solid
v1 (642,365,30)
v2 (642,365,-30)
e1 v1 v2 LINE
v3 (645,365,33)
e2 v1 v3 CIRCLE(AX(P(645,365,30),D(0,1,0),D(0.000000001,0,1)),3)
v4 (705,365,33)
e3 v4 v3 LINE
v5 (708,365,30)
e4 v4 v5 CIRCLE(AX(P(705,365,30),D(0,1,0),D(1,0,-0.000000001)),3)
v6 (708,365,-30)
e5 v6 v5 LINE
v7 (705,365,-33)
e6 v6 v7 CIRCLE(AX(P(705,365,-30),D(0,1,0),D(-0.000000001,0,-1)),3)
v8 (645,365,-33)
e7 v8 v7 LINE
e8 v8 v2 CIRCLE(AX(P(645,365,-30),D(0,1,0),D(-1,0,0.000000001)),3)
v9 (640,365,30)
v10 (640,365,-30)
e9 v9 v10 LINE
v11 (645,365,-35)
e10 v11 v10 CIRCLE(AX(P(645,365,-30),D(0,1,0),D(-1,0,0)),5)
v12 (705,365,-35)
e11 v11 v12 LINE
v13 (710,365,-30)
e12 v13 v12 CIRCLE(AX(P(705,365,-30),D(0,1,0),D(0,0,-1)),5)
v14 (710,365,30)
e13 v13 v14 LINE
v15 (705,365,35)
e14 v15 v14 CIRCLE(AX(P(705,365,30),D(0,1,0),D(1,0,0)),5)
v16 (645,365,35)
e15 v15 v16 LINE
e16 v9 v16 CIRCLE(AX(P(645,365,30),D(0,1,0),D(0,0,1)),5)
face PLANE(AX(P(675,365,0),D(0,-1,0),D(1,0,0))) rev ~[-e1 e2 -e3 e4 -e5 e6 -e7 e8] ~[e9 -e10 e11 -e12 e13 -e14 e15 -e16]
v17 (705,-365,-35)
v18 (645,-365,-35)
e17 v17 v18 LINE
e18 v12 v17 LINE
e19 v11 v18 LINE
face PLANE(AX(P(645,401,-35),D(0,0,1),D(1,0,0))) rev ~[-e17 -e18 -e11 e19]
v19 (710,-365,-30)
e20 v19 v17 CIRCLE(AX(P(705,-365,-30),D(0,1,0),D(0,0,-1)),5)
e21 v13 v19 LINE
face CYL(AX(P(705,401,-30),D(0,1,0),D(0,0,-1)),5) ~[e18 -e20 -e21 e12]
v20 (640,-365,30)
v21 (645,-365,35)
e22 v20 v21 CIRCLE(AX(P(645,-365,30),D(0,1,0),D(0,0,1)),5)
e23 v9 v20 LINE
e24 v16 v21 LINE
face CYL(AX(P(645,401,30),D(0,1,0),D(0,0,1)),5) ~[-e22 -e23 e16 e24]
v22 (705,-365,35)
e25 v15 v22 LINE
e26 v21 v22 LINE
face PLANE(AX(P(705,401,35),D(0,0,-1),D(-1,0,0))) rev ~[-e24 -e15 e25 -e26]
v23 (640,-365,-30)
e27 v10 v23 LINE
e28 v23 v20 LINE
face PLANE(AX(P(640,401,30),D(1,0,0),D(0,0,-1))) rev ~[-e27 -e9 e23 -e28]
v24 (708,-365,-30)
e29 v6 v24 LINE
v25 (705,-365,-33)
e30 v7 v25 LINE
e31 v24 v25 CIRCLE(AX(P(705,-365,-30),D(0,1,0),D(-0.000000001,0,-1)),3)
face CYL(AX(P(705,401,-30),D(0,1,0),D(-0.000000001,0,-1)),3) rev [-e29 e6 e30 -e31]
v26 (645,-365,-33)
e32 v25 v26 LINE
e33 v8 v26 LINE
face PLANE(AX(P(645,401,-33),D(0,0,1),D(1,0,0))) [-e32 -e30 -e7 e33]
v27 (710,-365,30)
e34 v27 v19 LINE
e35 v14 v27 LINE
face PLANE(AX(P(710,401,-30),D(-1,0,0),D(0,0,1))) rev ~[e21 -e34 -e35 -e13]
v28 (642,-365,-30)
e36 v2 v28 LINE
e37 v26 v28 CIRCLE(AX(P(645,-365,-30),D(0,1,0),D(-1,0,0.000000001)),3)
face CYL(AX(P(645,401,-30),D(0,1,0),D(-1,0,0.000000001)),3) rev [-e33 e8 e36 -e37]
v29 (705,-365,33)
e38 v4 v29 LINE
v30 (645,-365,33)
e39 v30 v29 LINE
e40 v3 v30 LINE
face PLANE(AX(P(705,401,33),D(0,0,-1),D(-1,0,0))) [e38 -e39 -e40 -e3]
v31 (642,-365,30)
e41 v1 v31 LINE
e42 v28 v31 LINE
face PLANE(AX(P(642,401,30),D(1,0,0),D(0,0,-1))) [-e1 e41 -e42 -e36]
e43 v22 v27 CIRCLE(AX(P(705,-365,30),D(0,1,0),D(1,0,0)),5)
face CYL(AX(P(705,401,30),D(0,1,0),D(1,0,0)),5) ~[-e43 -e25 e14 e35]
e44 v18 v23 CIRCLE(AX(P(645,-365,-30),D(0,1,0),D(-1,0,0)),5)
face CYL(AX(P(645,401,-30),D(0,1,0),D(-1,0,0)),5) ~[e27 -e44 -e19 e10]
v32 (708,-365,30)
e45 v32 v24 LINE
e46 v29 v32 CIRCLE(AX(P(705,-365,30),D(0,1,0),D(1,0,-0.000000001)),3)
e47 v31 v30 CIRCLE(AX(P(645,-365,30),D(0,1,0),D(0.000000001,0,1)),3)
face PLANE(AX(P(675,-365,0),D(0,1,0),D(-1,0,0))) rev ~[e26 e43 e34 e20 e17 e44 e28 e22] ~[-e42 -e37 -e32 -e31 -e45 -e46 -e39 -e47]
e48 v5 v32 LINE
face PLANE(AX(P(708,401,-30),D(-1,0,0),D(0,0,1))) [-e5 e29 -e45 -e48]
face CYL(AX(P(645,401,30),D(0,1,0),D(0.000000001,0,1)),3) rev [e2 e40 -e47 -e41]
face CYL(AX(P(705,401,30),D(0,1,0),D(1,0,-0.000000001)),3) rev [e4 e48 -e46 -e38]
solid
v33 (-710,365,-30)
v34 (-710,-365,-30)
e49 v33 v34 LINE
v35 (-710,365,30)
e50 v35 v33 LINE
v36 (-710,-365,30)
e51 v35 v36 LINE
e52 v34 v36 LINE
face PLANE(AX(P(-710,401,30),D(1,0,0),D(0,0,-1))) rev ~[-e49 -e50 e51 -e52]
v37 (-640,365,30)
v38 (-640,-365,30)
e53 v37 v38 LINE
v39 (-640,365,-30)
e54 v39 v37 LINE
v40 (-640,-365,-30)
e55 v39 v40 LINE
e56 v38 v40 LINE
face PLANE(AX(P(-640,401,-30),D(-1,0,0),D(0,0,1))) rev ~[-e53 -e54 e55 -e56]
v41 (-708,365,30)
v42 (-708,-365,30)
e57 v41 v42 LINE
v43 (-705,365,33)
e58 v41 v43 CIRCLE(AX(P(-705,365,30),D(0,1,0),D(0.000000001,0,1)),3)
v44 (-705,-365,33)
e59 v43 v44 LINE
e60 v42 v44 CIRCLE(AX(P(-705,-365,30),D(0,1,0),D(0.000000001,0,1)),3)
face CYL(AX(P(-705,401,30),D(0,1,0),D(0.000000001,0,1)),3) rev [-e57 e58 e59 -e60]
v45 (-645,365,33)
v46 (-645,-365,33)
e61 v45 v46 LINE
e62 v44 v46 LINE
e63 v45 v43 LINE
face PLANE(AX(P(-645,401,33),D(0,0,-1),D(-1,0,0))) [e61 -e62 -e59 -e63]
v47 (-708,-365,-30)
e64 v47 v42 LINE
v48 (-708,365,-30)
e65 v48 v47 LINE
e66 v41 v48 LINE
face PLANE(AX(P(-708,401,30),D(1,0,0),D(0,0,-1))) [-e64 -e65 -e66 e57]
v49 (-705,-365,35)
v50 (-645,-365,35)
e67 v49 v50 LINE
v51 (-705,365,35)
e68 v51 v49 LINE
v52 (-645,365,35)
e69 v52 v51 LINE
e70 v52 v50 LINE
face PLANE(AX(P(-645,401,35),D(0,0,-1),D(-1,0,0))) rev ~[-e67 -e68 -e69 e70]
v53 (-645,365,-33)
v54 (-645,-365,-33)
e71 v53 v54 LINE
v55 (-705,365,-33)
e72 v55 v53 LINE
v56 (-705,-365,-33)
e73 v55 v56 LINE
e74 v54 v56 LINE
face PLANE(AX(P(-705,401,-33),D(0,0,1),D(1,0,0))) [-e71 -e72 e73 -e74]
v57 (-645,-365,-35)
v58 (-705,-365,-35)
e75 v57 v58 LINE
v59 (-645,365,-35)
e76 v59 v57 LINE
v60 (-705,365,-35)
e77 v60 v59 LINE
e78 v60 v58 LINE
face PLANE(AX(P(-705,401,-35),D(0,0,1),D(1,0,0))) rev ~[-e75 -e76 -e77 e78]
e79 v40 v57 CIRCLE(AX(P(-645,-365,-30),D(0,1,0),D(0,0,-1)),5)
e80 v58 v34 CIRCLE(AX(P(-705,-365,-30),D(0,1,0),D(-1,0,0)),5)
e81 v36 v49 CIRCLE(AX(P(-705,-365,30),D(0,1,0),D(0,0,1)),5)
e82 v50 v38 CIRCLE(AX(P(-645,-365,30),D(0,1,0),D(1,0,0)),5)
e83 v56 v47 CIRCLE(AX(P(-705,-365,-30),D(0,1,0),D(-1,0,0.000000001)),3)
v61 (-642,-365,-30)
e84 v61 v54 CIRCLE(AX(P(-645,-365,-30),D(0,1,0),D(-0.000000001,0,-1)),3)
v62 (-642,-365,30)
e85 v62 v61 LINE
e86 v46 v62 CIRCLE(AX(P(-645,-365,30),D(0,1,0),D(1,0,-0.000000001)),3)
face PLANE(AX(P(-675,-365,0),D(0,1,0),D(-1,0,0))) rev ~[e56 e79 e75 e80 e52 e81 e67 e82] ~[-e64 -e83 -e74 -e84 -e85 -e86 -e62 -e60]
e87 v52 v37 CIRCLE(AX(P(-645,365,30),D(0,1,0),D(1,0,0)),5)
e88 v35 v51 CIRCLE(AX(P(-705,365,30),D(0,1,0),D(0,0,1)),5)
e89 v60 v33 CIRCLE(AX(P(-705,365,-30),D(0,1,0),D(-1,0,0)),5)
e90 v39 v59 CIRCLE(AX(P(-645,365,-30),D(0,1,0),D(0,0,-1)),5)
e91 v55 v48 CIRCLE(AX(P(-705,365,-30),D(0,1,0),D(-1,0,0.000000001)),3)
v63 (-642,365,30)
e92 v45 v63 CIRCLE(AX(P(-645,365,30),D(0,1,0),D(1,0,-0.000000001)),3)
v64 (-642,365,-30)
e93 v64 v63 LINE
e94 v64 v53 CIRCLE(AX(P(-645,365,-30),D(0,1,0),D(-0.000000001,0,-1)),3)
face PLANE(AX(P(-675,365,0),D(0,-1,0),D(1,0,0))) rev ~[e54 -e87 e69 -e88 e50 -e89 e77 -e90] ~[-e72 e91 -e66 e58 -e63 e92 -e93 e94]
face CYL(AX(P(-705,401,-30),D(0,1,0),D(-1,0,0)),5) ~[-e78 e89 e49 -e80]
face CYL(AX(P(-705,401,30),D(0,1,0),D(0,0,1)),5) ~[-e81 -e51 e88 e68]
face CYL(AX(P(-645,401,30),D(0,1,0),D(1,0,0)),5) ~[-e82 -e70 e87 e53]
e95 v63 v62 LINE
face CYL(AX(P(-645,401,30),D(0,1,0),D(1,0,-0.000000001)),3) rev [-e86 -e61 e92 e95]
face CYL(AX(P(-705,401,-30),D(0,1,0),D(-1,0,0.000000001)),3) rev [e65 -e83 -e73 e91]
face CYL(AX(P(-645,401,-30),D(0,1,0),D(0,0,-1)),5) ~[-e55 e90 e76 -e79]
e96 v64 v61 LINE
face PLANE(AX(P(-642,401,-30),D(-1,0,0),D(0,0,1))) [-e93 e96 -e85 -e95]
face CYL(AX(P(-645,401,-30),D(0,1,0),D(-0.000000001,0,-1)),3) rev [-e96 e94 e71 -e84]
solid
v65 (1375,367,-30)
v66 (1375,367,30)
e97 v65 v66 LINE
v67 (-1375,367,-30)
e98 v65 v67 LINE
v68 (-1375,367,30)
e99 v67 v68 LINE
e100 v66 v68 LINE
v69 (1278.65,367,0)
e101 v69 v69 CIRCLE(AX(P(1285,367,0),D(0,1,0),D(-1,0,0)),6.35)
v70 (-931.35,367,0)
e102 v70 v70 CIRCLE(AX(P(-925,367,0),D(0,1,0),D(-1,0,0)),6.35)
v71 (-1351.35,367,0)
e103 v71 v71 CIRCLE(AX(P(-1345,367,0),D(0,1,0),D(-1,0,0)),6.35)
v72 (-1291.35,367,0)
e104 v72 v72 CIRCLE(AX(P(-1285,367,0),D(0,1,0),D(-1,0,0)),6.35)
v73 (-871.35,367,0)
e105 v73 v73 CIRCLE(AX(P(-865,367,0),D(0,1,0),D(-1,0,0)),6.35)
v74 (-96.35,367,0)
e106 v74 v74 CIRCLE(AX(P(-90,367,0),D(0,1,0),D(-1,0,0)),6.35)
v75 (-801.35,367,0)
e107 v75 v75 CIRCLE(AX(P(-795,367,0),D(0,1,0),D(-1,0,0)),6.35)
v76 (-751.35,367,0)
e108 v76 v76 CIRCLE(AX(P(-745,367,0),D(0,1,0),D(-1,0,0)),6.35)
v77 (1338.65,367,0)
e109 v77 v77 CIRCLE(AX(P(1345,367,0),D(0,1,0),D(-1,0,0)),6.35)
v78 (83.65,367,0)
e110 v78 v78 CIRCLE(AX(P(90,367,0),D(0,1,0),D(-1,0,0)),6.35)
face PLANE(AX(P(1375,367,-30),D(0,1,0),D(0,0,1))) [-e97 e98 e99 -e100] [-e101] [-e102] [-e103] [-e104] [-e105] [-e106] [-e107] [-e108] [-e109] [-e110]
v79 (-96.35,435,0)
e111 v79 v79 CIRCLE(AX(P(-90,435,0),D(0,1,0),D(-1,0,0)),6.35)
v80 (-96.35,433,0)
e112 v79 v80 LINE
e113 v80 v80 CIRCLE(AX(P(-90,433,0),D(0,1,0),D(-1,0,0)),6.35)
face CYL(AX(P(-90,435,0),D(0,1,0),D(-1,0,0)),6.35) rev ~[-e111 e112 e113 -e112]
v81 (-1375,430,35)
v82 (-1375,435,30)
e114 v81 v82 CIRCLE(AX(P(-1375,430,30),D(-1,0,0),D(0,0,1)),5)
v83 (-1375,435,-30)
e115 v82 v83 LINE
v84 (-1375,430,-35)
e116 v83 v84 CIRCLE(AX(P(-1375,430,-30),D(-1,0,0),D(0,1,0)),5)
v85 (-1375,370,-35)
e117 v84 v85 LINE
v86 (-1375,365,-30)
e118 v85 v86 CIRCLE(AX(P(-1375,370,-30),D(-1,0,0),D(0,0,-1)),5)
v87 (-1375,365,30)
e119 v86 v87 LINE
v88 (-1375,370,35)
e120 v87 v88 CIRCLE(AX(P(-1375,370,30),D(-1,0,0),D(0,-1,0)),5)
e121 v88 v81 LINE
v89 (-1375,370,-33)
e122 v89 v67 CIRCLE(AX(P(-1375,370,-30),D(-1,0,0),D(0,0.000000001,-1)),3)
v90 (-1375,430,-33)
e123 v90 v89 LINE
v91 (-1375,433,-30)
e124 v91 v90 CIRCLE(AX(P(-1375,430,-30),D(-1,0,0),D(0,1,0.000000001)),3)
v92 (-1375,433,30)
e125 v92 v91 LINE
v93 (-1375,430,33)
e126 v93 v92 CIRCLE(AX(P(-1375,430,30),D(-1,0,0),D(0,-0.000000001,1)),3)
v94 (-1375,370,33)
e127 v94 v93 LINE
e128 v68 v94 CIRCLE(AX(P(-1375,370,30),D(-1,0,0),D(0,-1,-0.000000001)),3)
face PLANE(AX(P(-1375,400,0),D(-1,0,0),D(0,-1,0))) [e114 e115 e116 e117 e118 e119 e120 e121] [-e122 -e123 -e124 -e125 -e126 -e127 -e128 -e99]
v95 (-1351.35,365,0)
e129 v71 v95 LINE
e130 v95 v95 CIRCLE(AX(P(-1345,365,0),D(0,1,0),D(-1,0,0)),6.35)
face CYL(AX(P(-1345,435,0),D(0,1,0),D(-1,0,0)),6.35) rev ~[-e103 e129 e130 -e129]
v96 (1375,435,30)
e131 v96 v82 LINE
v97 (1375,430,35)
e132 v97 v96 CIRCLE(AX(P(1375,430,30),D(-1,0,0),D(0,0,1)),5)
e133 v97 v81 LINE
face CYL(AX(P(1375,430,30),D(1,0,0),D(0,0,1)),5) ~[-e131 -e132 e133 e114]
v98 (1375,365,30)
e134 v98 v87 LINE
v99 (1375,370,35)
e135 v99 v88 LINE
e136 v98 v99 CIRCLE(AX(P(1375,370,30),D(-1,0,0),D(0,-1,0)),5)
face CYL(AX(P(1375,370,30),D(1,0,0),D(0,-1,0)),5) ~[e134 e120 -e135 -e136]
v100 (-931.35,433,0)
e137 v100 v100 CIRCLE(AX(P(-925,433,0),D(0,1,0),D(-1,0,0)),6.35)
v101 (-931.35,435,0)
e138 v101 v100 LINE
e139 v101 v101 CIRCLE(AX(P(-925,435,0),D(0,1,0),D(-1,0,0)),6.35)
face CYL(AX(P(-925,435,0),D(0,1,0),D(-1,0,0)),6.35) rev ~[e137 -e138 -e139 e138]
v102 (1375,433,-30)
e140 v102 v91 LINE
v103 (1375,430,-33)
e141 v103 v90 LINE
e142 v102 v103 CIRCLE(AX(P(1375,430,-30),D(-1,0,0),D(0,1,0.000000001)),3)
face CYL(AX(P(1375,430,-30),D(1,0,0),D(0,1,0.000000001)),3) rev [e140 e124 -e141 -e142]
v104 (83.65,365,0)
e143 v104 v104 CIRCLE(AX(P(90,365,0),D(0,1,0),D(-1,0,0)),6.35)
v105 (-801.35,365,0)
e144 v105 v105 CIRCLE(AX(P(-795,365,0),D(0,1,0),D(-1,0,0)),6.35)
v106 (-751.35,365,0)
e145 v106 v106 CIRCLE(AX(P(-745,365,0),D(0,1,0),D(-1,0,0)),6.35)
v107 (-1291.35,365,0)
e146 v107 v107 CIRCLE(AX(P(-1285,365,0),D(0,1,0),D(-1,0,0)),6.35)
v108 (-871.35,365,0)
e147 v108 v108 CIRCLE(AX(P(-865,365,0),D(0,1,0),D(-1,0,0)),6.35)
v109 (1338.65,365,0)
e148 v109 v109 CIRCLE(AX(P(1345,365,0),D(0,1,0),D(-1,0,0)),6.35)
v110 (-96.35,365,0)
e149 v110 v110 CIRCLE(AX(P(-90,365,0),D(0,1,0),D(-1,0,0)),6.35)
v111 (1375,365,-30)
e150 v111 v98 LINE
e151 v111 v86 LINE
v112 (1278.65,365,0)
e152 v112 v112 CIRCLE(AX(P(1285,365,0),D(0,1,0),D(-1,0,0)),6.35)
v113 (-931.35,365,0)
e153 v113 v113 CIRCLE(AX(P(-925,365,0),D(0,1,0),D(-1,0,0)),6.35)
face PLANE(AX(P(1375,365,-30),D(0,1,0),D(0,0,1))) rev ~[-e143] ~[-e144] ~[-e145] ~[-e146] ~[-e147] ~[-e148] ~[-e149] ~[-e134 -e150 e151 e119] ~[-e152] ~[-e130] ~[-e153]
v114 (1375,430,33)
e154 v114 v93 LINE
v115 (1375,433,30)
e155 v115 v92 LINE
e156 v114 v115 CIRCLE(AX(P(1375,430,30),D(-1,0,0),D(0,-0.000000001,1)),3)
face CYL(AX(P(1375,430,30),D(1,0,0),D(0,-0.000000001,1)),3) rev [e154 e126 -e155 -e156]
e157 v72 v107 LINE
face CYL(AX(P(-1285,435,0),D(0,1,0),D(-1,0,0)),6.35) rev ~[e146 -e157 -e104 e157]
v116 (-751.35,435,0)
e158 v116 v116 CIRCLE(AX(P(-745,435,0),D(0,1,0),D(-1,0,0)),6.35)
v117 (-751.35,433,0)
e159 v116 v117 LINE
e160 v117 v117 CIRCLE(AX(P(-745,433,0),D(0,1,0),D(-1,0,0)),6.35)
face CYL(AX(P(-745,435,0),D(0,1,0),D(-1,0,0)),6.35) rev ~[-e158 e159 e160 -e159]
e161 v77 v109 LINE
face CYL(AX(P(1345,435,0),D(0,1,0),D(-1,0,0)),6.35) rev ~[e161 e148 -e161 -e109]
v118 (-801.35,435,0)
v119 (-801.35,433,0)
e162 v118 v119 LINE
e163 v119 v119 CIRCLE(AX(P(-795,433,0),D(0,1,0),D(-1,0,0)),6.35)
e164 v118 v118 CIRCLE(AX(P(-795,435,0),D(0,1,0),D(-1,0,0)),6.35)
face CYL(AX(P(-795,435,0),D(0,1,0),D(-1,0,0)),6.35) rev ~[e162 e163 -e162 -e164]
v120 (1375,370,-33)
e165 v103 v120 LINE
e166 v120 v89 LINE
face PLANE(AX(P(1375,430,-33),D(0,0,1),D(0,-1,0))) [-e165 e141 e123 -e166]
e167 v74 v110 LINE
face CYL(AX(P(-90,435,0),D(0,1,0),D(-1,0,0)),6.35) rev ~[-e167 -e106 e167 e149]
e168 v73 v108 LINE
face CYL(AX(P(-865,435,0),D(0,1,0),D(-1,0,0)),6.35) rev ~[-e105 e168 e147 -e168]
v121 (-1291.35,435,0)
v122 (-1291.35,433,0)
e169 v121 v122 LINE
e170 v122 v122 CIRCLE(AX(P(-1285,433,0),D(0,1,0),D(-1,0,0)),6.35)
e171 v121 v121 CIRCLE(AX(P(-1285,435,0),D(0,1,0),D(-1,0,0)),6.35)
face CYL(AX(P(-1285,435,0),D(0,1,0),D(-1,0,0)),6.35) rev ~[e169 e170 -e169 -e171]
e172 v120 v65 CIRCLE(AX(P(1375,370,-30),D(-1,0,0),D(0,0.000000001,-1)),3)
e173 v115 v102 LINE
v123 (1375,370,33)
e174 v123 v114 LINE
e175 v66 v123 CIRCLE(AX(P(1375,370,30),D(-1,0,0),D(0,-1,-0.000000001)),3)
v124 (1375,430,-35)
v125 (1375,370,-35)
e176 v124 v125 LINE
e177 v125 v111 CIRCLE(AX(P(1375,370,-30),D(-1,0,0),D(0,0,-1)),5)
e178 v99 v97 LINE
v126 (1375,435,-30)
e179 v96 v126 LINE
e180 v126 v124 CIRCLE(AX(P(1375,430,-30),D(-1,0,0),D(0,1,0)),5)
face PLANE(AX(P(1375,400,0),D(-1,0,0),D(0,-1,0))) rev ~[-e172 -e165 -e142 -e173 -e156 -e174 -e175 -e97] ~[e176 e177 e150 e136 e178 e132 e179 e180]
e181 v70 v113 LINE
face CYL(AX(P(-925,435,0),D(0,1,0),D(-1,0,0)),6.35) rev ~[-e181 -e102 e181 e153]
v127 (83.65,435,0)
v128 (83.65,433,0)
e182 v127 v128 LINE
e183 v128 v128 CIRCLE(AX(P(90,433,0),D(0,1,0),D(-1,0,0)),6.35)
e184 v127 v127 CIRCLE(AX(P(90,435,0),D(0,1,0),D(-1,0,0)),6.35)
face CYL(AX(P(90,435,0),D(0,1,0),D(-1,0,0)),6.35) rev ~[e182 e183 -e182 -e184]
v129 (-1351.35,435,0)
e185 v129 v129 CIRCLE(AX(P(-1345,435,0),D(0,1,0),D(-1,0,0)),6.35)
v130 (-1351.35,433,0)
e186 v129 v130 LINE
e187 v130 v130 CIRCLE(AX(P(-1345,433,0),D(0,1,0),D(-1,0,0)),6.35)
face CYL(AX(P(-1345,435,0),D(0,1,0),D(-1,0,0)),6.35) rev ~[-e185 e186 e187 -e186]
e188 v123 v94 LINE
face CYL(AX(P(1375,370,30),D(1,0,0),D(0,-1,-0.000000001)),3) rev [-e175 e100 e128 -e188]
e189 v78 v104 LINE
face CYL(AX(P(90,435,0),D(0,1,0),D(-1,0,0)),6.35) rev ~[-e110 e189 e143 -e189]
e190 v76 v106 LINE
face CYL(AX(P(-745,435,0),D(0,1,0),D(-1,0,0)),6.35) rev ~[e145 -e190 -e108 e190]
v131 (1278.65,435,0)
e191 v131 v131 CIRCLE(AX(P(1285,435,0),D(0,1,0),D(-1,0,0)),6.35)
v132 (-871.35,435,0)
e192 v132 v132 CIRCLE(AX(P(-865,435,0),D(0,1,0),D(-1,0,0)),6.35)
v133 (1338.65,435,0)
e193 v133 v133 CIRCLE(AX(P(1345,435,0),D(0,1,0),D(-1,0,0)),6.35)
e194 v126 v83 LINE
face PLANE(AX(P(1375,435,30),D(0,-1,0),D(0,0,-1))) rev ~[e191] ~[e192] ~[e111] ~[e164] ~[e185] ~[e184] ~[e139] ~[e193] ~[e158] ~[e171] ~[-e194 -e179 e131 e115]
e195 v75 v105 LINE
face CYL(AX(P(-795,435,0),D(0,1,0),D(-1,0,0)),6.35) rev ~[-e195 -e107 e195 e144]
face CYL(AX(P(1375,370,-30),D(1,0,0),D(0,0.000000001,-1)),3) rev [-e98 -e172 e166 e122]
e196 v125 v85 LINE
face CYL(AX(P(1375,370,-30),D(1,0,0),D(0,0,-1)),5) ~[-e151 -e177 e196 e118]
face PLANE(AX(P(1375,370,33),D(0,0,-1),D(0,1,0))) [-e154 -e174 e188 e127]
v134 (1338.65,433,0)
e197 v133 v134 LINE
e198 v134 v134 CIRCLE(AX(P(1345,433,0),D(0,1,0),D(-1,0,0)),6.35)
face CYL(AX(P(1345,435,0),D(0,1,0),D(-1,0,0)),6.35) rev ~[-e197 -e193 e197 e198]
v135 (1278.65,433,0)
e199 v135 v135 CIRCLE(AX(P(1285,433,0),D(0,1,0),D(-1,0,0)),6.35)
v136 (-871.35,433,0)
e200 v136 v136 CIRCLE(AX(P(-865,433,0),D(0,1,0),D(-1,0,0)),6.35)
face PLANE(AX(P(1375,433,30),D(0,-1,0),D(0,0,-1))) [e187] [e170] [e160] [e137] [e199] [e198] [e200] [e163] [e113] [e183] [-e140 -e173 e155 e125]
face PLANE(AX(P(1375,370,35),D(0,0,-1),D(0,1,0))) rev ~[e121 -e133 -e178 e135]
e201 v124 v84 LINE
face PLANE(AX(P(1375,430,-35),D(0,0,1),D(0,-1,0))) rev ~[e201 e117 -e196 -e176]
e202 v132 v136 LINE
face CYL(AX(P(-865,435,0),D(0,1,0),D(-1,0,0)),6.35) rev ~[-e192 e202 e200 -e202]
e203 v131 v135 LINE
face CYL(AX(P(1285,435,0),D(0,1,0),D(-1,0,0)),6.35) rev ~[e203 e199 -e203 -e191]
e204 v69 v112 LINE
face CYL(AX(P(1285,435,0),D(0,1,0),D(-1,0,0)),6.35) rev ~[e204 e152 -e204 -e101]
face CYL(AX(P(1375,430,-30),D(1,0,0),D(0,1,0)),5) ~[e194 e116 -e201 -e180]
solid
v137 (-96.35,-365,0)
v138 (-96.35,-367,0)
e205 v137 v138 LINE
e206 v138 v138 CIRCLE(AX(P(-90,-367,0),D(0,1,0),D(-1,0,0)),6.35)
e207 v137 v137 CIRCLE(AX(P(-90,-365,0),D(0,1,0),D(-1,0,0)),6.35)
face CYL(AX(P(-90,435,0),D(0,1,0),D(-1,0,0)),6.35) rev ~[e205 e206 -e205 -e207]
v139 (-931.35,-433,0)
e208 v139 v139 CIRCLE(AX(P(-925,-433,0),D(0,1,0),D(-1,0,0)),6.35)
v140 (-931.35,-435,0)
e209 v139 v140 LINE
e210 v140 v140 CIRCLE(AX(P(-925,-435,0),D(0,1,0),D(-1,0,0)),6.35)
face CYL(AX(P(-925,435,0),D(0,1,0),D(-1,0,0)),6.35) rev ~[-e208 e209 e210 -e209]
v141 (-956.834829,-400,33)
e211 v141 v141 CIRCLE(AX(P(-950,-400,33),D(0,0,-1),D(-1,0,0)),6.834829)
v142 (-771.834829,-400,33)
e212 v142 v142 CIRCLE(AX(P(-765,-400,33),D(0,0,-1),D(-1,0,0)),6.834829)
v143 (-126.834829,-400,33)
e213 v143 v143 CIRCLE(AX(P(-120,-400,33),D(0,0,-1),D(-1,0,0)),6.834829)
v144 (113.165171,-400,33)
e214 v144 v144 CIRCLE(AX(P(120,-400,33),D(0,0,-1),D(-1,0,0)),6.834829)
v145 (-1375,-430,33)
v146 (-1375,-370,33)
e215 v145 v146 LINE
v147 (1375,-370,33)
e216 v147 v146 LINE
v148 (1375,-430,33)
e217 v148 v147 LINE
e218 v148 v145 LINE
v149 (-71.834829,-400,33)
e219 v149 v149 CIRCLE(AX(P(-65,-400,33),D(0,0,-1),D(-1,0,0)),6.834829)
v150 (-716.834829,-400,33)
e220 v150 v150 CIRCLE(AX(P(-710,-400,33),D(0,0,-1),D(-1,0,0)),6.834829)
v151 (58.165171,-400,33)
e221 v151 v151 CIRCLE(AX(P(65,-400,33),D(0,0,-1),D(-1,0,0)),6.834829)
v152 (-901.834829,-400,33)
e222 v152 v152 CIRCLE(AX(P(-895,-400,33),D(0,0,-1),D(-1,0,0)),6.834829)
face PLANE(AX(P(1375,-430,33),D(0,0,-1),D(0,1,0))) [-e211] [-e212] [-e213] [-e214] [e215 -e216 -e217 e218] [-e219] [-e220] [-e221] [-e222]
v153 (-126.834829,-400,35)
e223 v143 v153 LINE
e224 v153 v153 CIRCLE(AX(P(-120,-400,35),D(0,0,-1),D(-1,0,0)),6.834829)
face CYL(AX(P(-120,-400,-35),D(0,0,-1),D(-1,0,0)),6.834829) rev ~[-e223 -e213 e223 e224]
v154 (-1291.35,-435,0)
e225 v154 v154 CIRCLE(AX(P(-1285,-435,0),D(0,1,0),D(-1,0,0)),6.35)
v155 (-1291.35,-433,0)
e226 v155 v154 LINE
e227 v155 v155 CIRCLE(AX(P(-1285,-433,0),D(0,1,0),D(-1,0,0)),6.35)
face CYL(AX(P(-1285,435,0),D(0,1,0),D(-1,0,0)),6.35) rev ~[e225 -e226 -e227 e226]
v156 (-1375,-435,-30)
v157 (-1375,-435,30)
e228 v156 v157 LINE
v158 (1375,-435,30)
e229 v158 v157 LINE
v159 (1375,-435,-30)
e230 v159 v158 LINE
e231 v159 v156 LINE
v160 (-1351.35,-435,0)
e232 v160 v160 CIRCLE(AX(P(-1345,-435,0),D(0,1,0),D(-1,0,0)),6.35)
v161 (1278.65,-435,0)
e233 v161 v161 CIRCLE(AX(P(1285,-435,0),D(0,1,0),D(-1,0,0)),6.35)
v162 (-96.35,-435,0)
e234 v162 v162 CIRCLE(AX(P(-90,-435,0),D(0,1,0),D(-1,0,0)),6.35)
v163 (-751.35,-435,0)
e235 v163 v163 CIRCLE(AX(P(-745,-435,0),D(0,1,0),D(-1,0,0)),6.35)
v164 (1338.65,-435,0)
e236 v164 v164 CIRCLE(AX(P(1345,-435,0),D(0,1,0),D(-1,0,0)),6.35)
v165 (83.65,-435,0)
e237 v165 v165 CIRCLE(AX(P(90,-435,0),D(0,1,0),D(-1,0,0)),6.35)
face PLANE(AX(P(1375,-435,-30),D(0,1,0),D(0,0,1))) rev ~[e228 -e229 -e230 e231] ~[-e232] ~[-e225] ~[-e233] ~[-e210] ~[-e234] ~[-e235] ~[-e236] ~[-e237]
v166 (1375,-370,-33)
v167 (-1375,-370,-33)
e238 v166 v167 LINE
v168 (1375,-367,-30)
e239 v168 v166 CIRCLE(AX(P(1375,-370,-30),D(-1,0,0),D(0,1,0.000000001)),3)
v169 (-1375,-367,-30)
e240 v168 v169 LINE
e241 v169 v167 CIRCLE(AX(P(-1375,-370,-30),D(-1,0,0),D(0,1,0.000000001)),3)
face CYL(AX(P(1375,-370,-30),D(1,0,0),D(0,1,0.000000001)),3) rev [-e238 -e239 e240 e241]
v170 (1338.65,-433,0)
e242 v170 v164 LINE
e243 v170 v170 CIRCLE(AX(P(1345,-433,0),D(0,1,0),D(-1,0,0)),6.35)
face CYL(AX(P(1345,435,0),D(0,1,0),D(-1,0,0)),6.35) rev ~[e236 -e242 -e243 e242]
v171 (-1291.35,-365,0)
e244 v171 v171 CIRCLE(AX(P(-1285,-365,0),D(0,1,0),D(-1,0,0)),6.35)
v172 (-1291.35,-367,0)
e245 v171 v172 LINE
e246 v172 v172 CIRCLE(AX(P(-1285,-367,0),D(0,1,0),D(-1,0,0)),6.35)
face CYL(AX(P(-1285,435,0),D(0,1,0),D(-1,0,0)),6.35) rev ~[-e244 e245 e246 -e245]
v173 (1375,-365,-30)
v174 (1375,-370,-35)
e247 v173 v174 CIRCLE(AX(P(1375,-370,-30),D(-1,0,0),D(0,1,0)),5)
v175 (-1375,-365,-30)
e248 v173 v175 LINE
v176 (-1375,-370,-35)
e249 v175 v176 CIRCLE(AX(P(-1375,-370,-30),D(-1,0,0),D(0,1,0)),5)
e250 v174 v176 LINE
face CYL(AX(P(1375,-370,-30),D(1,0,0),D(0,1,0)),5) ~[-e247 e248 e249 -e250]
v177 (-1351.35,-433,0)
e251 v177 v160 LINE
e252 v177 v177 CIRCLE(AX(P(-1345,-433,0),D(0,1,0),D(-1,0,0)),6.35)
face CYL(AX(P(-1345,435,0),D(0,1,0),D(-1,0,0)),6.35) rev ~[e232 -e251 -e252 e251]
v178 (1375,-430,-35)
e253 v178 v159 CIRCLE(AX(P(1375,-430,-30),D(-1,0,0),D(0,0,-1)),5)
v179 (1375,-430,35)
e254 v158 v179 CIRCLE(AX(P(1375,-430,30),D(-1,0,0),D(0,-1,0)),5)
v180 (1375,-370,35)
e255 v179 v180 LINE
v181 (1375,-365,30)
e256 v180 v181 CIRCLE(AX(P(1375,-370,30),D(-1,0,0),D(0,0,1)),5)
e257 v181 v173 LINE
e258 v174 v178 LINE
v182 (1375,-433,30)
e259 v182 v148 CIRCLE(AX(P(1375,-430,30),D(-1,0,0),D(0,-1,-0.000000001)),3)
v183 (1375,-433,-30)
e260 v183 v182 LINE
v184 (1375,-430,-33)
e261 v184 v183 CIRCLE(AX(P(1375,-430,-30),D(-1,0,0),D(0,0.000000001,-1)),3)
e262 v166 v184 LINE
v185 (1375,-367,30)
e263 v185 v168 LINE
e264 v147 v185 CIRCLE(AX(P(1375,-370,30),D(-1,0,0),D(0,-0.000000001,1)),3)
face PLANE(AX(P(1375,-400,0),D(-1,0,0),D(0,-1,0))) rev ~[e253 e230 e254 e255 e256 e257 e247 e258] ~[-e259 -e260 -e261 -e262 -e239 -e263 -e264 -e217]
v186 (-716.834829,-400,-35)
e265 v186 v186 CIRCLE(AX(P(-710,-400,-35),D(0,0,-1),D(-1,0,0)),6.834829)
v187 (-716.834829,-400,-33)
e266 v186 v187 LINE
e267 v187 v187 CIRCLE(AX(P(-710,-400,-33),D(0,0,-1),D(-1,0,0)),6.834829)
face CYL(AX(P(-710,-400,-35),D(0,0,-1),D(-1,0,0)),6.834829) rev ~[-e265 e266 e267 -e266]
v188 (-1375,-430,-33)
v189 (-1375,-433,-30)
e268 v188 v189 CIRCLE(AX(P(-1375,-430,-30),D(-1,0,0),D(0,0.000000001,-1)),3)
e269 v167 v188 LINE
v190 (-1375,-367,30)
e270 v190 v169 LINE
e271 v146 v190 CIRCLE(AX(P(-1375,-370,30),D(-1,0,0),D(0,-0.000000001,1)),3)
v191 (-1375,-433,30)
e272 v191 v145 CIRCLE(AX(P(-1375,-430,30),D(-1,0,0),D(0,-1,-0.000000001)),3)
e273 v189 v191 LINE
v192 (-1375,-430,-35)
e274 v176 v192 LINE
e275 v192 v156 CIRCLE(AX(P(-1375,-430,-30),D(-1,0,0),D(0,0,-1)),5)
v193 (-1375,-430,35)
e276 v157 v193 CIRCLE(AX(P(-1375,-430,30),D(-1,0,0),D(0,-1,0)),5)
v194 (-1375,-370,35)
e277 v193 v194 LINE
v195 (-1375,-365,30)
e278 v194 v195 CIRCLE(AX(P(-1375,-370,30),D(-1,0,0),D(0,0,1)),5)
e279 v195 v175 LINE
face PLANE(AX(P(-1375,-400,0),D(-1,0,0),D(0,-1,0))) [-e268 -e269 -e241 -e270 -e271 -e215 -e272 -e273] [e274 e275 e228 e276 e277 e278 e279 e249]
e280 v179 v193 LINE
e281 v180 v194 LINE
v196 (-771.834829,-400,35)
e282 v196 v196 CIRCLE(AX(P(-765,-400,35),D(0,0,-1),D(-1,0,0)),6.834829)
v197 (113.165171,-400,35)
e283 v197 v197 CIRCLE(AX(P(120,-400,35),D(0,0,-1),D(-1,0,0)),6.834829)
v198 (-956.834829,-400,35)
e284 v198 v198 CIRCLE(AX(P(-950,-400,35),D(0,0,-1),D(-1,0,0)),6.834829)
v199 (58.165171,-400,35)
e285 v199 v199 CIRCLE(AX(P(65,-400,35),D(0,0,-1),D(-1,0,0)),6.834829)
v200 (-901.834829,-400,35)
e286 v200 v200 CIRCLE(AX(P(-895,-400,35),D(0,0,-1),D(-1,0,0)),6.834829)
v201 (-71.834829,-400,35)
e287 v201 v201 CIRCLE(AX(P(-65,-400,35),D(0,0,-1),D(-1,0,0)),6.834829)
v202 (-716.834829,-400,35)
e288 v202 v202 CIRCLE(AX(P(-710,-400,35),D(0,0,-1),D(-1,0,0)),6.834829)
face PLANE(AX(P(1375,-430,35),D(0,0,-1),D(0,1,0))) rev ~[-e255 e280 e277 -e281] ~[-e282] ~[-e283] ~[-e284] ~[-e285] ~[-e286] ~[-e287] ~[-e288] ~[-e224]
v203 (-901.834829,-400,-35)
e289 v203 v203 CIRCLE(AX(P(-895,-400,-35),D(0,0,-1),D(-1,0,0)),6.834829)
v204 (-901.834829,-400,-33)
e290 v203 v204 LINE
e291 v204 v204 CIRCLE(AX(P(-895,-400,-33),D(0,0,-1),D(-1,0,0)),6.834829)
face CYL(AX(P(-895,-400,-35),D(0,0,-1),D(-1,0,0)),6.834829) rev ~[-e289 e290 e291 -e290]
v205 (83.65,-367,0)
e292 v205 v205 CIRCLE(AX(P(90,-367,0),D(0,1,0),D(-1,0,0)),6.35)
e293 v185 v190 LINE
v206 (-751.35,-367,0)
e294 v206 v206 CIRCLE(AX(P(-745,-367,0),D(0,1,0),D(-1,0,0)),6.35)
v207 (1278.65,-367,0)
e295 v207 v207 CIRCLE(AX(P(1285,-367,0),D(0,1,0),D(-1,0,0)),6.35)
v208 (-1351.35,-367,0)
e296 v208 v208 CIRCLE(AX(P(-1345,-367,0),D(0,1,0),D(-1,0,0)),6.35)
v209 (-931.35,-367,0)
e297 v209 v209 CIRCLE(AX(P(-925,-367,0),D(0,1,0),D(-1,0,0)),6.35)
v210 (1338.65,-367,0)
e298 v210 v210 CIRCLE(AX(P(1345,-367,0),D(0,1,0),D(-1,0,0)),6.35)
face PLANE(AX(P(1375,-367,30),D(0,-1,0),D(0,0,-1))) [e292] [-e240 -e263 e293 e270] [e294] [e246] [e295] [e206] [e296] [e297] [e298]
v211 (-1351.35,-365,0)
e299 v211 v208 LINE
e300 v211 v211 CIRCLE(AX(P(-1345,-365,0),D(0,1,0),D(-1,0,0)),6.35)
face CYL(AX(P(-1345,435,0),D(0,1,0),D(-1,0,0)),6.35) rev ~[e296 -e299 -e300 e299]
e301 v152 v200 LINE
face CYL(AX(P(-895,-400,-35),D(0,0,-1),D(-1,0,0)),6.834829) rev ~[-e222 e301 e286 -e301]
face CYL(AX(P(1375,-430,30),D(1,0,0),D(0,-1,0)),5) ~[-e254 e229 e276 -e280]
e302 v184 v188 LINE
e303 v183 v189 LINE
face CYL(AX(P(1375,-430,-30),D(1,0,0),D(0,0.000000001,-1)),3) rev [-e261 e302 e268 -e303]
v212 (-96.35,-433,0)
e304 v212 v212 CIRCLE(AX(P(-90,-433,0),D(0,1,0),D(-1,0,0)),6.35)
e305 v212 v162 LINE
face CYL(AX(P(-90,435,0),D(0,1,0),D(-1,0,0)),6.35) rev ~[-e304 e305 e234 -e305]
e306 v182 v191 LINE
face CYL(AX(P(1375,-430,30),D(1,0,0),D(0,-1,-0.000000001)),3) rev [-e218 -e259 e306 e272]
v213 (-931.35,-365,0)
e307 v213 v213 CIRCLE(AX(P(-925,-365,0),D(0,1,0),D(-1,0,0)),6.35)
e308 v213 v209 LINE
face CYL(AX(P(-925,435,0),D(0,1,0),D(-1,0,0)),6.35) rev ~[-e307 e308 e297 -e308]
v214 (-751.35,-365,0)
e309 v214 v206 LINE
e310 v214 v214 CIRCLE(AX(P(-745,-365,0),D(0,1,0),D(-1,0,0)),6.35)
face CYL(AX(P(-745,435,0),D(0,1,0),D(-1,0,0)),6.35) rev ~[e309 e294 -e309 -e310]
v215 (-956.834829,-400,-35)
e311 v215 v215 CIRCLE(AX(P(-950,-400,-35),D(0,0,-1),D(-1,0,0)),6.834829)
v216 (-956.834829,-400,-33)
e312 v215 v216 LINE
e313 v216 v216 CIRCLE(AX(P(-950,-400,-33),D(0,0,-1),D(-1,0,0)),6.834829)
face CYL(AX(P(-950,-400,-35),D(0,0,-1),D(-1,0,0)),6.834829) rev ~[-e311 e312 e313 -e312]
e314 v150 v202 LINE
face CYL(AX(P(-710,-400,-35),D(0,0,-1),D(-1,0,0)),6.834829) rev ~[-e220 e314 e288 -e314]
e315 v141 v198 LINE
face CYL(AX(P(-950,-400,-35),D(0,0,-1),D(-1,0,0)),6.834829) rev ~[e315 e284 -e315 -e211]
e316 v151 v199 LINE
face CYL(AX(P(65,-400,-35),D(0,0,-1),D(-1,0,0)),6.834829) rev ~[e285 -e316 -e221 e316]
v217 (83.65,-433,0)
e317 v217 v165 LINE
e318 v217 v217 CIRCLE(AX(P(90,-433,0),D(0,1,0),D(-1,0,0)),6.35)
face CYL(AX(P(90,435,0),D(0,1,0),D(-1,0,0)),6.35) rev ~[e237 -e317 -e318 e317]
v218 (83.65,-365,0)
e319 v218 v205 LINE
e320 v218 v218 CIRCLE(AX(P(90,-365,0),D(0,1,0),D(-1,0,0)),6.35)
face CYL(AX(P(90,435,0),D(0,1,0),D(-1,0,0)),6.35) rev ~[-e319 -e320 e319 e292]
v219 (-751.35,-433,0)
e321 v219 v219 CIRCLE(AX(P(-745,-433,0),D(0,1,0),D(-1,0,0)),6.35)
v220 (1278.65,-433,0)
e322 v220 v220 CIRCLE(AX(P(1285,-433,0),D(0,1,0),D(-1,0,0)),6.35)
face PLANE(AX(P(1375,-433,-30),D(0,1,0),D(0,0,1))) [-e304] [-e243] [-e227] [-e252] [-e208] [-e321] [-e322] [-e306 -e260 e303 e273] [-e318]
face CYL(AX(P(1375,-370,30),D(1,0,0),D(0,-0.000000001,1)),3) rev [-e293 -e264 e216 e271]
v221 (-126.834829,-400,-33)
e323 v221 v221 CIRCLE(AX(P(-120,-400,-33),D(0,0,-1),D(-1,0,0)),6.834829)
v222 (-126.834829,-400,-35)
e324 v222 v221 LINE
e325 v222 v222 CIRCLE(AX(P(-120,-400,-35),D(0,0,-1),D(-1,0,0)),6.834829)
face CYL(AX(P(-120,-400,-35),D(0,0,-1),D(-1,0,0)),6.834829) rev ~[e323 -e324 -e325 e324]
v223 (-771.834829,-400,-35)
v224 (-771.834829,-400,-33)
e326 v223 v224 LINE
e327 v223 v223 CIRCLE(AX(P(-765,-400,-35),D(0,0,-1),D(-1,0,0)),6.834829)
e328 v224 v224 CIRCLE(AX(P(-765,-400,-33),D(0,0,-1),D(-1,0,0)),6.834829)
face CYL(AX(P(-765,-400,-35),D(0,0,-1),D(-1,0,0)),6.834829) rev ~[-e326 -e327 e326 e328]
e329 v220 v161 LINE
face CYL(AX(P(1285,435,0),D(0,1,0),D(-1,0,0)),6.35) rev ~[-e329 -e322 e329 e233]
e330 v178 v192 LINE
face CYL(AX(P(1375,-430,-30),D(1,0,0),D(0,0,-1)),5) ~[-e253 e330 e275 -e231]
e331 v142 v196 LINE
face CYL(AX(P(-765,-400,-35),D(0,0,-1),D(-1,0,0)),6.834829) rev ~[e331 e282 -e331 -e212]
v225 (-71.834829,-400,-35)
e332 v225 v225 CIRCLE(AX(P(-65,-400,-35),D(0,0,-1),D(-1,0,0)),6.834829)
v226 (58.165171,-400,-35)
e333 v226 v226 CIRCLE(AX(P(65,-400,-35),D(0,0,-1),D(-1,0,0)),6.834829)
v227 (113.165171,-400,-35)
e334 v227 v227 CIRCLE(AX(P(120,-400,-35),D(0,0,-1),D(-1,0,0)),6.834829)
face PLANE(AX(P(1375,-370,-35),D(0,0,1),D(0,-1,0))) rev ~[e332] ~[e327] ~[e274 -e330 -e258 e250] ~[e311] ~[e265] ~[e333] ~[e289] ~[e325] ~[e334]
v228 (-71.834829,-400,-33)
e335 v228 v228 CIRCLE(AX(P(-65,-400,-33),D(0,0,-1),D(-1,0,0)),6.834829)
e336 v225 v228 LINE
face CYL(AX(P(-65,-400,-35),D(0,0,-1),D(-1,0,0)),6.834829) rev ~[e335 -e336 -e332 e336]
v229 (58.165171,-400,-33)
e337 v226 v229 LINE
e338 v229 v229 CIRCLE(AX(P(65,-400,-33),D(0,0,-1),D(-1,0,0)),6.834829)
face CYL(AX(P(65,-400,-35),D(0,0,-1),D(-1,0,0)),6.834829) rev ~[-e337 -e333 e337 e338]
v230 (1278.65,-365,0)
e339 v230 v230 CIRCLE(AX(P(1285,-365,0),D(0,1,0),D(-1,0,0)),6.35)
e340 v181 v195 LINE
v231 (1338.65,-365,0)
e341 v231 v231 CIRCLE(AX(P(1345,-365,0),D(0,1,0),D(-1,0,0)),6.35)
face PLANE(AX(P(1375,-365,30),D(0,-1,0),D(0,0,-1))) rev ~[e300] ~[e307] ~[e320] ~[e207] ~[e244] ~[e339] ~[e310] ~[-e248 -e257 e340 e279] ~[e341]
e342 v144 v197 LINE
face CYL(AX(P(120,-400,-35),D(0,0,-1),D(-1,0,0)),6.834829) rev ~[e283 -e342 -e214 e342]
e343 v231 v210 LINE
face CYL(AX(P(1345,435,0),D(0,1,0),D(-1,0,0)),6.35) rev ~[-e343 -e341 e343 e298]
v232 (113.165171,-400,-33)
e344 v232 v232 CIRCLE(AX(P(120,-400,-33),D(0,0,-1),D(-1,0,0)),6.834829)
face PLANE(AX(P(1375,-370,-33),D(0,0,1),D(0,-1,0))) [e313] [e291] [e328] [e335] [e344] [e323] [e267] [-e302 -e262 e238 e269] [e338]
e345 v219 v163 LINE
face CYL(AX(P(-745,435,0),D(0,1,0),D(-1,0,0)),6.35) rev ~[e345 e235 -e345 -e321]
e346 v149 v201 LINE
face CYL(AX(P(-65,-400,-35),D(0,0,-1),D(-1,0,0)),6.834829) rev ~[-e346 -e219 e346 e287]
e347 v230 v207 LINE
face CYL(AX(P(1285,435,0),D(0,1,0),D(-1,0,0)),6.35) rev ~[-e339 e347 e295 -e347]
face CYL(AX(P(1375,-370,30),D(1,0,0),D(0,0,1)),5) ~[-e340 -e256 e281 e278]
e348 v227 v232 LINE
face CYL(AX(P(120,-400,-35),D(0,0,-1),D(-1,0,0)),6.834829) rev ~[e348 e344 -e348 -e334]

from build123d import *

# Parameters (mm, degrees)
TUBO_CUADRADO_3_X_3_X_0_25_1_DEPTH   = 2750
TUBO_CUADRADO_3_X_3_X_0_25_1_2_DEPTH = 2750
TUBO_CUADRADO_3_X_3_X_0_25_1_3_DEPTH = 802
TUBO_CUADRADO_3_X_3_X_0_25_1_4_DEPTH = 802
CROQUIS4_R                           = 6.35
CORTAR_EXTRUIR1_DEPTH                = 1628.498079876
CROQUIS5_R                           = 6.83482912
CORTAR_EXTRUIR2_DEPTH                = 1444.866337304
CROQUIS6_R                           = 6.35
CORTAR_EXTRUIR3_DEPTH                = 160


with BuildPart() as part:
    # Sketch1 → Tubo cuadrado 3 X 3 X 0.25(1) (new body)
    with BuildSketch(Plane(origin=(1375, -400, 0), x_dir=(0, -1, 0), z_dir=(-1, 0, 0))):
        with BuildLine():
            Line((-30, -35), (30, -35))
            ThreePointArc((30, -35), (33.535533906, -33.535533906), (35, -30))
            Line((35, -30), (35, 30))
            ThreePointArc((35, 30), (33.535533906, 33.535533906), (30, 35))
            Line((30, 35), (-30, 35))
            ThreePointArc((-30, 35), (-33.535533906, 33.535533906), (-35, 30))
            Line((-35, 30), (-35, -30))
            ThreePointArc((-35, -30), (-33.535533906, -33.535533906), (-30, -35))
        make_face()
        with BuildLine():
            Line((-30, -33), (30, -33))
            ThreePointArc((30, -33), (32.121320344, -32.121320344), (33, -30))
            Line((33, -30), (33, 30))
            ThreePointArc((33, 30), (32.121320344, 32.121320344), (30, 33))
            Line((30, 33), (-30, 33))
            ThreePointArc((-30, 33), (-32.121320344, 32.121320344), (-33, 30))
            Line((-33, 30), (-33, -30))
            ThreePointArc((-33, -30), (-32.121320344, -32.121320344), (-30, -33))
        make_face(mode=Mode.SUBTRACT)
    extrude(amount=TUBO_CUADRADO_3_X_3_X_0_25_1_DEPTH)


with BuildPart() as body_2:
    # Sketch1 on segment 2 (carried to segment 2) → Tubo cuadrado 3 X 3 X 0.25_1 2 (new body)
    with BuildSketch(Plane(origin=(1375, 400, 0), x_dir=(0, -1, 0), z_dir=(-1, 0, 0))):
        with BuildLine():
            Line((-30, -35), (30, -35))
            ThreePointArc((30, -35), (33.535533906, -33.535533906), (35, -30))
            Line((35, -30), (35, 30))
            ThreePointArc((35, 30), (33.535533906, 33.535533906), (30, 35))
            Line((30, 35), (-30, 35))
            ThreePointArc((-30, 35), (-33.535533906, 33.535533906), (-35, 30))
            Line((-35, 30), (-35, -30))
            ThreePointArc((-35, -30), (-33.535533906, -33.535533906), (-30, -35))
        make_face()
        with BuildLine():
            Line((-30, -33), (30, -33))
            ThreePointArc((30, -33), (32.121320344, -32.121320344), (33, -30))
            Line((33, -30), (33, 30))
            ThreePointArc((33, 30), (32.121320344, 32.121320344), (30, 33))
            Line((30, 33), (-30, 33))
            ThreePointArc((-30, 33), (-32.121320344, 32.121320344), (-33, 30))
            Line((-33, 30), (-33, -30))
            ThreePointArc((-33, -30), (-32.121320344, -32.121320344), (-30, -33))
        make_face(mode=Mode.SUBTRACT)
    extrude(amount=TUBO_CUADRADO_3_X_3_X_0_25_1_2_DEPTH)


with BuildPart() as body_3:
    # Sketch1 on segment 3 (carried to segment 3) → Tubo cuadrado 3 X 3 X 0.25_1 3 (new body)
    with BuildSketch(Plane(origin=(-675, 401, 0), x_dir=(1, 0, 0), z_dir=(0, -1, 0))):
        with BuildLine():
            Line((-30, -35), (30, -35))
            ThreePointArc((30, -35), (33.535533906, -33.535533906), (35, -30))
            Line((35, -30), (35, 30))
            ThreePointArc((35, 30), (33.535533906, 33.535533906), (30, 35))
            Line((30, 35), (-30, 35))
            ThreePointArc((-30, 35), (-33.535533906, 33.535533906), (-35, 30))
            Line((-35, 30), (-35, -30))
            ThreePointArc((-35, -30), (-33.535533906, -33.535533906), (-30, -35))
        make_face()
        with BuildLine():
            Line((-30, -33), (30, -33))
            ThreePointArc((30, -33), (32.121320344, -32.121320344), (33, -30))
            Line((33, -30), (33, 30))
            ThreePointArc((33, 30), (32.121320344, 32.121320344), (30, 33))
            Line((30, 33), (-30, 33))
            ThreePointArc((-30, 33), (-32.121320344, 32.121320344), (-33, 30))
            Line((-33, 30), (-33, -30))
            ThreePointArc((-33, -30), (-32.121320344, -32.121320344), (-30, -33))
        make_face(mode=Mode.SUBTRACT)
    extrude(amount=TUBO_CUADRADO_3_X_3_X_0_25_1_3_DEPTH)

    # Tubo cuadrado 3 X 3 X 0.25_1 3 end butt
    split(bisect_by=Plane(origin=(-675, 365, 0), x_dir=(1, 0, 0), z_dir=(0, -1, 0)), keep=Keep.TOP)

    # Tubo cuadrado 3 X 3 X 0.25_1 3 end b 2
    split(bisect_by=Plane(origin=(-675, -365, 0), x_dir=(-1, 0, 0), z_dir=(0, 1, 0)), keep=Keep.TOP)


with BuildPart() as body_4:
    # Sketch1 on segment 4 (carried to segment 4) → Tubo cuadrado 3 X 3 X 0.25_1 4 (new body)
    with BuildSketch(Plane(origin=(675, 401, 0), x_dir=(1, 0, 0), z_dir=(0, -1, 0))):
        with BuildLine():
            Line((-30, -35), (30, -35))
            ThreePointArc((30, -35), (33.535533906, -33.535533906), (35, -30))
            Line((35, -30), (35, 30))
            ThreePointArc((35, 30), (33.535533906, 33.535533906), (30, 35))
            Line((30, 35), (-30, 35))
            ThreePointArc((-30, 35), (-33.535533906, 33.535533906), (-35, 30))
            Line((-35, 30), (-35, -30))
            ThreePointArc((-35, -30), (-33.535533906, -33.535533906), (-30, -35))
        make_face()
        with BuildLine():
            Line((-30, -33), (30, -33))
            ThreePointArc((30, -33), (32.121320344, -32.121320344), (33, -30))
            Line((33, -30), (33, 30))
            ThreePointArc((33, 30), (32.121320344, 32.121320344), (30, 33))
            Line((30, 33), (-30, 33))
            ThreePointArc((-30, 33), (-32.121320344, 32.121320344), (-33, 30))
            Line((-33, 30), (-33, -30))
            ThreePointArc((-33, -30), (-32.121320344, -32.121320344), (-30, -33))
        make_face(mode=Mode.SUBTRACT)
    extrude(amount=TUBO_CUADRADO_3_X_3_X_0_25_1_4_DEPTH)

    # Tubo cuadrado 3 X 3 X 0.25_1 4 end butt
    split(bisect_by=Plane(origin=(675, 365, 0), x_dir=(1, 0, 0), z_dir=(0, -1, 0)), keep=Keep.TOP)

    # Tubo cuadrado 3 X 3 X 0.25_1 4 end b 2
    split(bisect_by=Plane(origin=(675, -365, 0), x_dir=(-1, 0, 0), z_dir=(0, 1, 0)), keep=Keep.TOP)


with BuildPart() as cortar_extruir1_tool:
    # Croquis4 → Cortar-Extruir1 (new, through all)
    with BuildSketch(Plane(origin=(0, 435, 0), x_dir=(1, 0, 0), z_dir=(0, 1, 0))):
        with Locations(Location((-1345, 0, 0), (0, 0, 180))):
            Circle(CROQUIS4_R)
        with Locations(Location((-1285, 0, 0), (0, 0, 180))):
            Circle(CROQUIS4_R)
        with Locations(Location((1285, 0, 0), (0, 0, 180))):
            Circle(CROQUIS4_R)
        with Locations(Location((1345, 0, 0), (0, 0, 180))):
            Circle(CROQUIS4_R)
        with Locations(Location((-925, 0, 0), (0, 0, 180))):
            Circle(CROQUIS4_R)
        with Locations(Location((-745, 0, 0), (0, 0, 180))):
            Circle(CROQUIS4_R)
        with Locations(Location((-90, 0, 0), (0, 0, 180))):
            Circle(CROQUIS4_R)
        with Locations(Location((90, 0, 0), (0, 0, 180))):
            Circle(CROQUIS4_R)
    extrude(amount=-CORTAR_EXTRUIR1_DEPTH)


with BuildPart() as part_1:
    add(part.part)

    # Cortar-Extruir1: cut by cortar_extruir1_tool
    add(cortar_extruir1_tool.part, mode=Mode.SUBTRACT)

    # Croquis5 → Cortar-Extruir2 (cut, through all)
    with BuildSketch(Plane(origin=(0, 0, -35), x_dir=(-1, 0, 0), z_dir=(0, 0, -1))):
        with Locations((-120, -400)):
            Circle(CROQUIS5_R)
        with Locations((-65, -400)):
            Circle(CROQUIS5_R)
        with Locations((65, -400)):
            Circle(CROQUIS5_R)
        with Locations((120, -400)):
            Circle(CROQUIS5_R)
        with Locations((710, -400)):
            Circle(CROQUIS5_R)
        with Locations((765, -400)):
            Circle(CROQUIS5_R)
        with Locations((895, -400)):
            Circle(CROQUIS5_R)
        with Locations((950, -400)):
            Circle(CROQUIS5_R)
    extrude(amount=-CORTAR_EXTRUIR2_DEPTH, mode=Mode.SUBTRACT)


with BuildPart() as body_2_1:
    add(body_2.part)

    # Cortar-Extruir1: cut by cortar_extruir1_tool
    add(cortar_extruir1_tool.part, mode=Mode.SUBTRACT)

    # Croquis6 → Cortar-Extruir3 (cut)
    with BuildSketch(Plane(origin=(0, 435, 0), x_dir=(1, 0, 0), z_dir=(0, 1, 0))):
        with Locations(Location((-865, 0, 0), (0, 0, 180))):
            Circle(CROQUIS6_R)
        with Locations(Location((-795, 0, 0), (0, 0, 180))):
            Circle(CROQUIS6_R)
    extrude(amount=-CORTAR_EXTRUIR3_DEPTH, mode=Mode.SUBTRACT)


solid = Compound([body_3.part, body_4.part, part_1.part, body_2_1.part])
